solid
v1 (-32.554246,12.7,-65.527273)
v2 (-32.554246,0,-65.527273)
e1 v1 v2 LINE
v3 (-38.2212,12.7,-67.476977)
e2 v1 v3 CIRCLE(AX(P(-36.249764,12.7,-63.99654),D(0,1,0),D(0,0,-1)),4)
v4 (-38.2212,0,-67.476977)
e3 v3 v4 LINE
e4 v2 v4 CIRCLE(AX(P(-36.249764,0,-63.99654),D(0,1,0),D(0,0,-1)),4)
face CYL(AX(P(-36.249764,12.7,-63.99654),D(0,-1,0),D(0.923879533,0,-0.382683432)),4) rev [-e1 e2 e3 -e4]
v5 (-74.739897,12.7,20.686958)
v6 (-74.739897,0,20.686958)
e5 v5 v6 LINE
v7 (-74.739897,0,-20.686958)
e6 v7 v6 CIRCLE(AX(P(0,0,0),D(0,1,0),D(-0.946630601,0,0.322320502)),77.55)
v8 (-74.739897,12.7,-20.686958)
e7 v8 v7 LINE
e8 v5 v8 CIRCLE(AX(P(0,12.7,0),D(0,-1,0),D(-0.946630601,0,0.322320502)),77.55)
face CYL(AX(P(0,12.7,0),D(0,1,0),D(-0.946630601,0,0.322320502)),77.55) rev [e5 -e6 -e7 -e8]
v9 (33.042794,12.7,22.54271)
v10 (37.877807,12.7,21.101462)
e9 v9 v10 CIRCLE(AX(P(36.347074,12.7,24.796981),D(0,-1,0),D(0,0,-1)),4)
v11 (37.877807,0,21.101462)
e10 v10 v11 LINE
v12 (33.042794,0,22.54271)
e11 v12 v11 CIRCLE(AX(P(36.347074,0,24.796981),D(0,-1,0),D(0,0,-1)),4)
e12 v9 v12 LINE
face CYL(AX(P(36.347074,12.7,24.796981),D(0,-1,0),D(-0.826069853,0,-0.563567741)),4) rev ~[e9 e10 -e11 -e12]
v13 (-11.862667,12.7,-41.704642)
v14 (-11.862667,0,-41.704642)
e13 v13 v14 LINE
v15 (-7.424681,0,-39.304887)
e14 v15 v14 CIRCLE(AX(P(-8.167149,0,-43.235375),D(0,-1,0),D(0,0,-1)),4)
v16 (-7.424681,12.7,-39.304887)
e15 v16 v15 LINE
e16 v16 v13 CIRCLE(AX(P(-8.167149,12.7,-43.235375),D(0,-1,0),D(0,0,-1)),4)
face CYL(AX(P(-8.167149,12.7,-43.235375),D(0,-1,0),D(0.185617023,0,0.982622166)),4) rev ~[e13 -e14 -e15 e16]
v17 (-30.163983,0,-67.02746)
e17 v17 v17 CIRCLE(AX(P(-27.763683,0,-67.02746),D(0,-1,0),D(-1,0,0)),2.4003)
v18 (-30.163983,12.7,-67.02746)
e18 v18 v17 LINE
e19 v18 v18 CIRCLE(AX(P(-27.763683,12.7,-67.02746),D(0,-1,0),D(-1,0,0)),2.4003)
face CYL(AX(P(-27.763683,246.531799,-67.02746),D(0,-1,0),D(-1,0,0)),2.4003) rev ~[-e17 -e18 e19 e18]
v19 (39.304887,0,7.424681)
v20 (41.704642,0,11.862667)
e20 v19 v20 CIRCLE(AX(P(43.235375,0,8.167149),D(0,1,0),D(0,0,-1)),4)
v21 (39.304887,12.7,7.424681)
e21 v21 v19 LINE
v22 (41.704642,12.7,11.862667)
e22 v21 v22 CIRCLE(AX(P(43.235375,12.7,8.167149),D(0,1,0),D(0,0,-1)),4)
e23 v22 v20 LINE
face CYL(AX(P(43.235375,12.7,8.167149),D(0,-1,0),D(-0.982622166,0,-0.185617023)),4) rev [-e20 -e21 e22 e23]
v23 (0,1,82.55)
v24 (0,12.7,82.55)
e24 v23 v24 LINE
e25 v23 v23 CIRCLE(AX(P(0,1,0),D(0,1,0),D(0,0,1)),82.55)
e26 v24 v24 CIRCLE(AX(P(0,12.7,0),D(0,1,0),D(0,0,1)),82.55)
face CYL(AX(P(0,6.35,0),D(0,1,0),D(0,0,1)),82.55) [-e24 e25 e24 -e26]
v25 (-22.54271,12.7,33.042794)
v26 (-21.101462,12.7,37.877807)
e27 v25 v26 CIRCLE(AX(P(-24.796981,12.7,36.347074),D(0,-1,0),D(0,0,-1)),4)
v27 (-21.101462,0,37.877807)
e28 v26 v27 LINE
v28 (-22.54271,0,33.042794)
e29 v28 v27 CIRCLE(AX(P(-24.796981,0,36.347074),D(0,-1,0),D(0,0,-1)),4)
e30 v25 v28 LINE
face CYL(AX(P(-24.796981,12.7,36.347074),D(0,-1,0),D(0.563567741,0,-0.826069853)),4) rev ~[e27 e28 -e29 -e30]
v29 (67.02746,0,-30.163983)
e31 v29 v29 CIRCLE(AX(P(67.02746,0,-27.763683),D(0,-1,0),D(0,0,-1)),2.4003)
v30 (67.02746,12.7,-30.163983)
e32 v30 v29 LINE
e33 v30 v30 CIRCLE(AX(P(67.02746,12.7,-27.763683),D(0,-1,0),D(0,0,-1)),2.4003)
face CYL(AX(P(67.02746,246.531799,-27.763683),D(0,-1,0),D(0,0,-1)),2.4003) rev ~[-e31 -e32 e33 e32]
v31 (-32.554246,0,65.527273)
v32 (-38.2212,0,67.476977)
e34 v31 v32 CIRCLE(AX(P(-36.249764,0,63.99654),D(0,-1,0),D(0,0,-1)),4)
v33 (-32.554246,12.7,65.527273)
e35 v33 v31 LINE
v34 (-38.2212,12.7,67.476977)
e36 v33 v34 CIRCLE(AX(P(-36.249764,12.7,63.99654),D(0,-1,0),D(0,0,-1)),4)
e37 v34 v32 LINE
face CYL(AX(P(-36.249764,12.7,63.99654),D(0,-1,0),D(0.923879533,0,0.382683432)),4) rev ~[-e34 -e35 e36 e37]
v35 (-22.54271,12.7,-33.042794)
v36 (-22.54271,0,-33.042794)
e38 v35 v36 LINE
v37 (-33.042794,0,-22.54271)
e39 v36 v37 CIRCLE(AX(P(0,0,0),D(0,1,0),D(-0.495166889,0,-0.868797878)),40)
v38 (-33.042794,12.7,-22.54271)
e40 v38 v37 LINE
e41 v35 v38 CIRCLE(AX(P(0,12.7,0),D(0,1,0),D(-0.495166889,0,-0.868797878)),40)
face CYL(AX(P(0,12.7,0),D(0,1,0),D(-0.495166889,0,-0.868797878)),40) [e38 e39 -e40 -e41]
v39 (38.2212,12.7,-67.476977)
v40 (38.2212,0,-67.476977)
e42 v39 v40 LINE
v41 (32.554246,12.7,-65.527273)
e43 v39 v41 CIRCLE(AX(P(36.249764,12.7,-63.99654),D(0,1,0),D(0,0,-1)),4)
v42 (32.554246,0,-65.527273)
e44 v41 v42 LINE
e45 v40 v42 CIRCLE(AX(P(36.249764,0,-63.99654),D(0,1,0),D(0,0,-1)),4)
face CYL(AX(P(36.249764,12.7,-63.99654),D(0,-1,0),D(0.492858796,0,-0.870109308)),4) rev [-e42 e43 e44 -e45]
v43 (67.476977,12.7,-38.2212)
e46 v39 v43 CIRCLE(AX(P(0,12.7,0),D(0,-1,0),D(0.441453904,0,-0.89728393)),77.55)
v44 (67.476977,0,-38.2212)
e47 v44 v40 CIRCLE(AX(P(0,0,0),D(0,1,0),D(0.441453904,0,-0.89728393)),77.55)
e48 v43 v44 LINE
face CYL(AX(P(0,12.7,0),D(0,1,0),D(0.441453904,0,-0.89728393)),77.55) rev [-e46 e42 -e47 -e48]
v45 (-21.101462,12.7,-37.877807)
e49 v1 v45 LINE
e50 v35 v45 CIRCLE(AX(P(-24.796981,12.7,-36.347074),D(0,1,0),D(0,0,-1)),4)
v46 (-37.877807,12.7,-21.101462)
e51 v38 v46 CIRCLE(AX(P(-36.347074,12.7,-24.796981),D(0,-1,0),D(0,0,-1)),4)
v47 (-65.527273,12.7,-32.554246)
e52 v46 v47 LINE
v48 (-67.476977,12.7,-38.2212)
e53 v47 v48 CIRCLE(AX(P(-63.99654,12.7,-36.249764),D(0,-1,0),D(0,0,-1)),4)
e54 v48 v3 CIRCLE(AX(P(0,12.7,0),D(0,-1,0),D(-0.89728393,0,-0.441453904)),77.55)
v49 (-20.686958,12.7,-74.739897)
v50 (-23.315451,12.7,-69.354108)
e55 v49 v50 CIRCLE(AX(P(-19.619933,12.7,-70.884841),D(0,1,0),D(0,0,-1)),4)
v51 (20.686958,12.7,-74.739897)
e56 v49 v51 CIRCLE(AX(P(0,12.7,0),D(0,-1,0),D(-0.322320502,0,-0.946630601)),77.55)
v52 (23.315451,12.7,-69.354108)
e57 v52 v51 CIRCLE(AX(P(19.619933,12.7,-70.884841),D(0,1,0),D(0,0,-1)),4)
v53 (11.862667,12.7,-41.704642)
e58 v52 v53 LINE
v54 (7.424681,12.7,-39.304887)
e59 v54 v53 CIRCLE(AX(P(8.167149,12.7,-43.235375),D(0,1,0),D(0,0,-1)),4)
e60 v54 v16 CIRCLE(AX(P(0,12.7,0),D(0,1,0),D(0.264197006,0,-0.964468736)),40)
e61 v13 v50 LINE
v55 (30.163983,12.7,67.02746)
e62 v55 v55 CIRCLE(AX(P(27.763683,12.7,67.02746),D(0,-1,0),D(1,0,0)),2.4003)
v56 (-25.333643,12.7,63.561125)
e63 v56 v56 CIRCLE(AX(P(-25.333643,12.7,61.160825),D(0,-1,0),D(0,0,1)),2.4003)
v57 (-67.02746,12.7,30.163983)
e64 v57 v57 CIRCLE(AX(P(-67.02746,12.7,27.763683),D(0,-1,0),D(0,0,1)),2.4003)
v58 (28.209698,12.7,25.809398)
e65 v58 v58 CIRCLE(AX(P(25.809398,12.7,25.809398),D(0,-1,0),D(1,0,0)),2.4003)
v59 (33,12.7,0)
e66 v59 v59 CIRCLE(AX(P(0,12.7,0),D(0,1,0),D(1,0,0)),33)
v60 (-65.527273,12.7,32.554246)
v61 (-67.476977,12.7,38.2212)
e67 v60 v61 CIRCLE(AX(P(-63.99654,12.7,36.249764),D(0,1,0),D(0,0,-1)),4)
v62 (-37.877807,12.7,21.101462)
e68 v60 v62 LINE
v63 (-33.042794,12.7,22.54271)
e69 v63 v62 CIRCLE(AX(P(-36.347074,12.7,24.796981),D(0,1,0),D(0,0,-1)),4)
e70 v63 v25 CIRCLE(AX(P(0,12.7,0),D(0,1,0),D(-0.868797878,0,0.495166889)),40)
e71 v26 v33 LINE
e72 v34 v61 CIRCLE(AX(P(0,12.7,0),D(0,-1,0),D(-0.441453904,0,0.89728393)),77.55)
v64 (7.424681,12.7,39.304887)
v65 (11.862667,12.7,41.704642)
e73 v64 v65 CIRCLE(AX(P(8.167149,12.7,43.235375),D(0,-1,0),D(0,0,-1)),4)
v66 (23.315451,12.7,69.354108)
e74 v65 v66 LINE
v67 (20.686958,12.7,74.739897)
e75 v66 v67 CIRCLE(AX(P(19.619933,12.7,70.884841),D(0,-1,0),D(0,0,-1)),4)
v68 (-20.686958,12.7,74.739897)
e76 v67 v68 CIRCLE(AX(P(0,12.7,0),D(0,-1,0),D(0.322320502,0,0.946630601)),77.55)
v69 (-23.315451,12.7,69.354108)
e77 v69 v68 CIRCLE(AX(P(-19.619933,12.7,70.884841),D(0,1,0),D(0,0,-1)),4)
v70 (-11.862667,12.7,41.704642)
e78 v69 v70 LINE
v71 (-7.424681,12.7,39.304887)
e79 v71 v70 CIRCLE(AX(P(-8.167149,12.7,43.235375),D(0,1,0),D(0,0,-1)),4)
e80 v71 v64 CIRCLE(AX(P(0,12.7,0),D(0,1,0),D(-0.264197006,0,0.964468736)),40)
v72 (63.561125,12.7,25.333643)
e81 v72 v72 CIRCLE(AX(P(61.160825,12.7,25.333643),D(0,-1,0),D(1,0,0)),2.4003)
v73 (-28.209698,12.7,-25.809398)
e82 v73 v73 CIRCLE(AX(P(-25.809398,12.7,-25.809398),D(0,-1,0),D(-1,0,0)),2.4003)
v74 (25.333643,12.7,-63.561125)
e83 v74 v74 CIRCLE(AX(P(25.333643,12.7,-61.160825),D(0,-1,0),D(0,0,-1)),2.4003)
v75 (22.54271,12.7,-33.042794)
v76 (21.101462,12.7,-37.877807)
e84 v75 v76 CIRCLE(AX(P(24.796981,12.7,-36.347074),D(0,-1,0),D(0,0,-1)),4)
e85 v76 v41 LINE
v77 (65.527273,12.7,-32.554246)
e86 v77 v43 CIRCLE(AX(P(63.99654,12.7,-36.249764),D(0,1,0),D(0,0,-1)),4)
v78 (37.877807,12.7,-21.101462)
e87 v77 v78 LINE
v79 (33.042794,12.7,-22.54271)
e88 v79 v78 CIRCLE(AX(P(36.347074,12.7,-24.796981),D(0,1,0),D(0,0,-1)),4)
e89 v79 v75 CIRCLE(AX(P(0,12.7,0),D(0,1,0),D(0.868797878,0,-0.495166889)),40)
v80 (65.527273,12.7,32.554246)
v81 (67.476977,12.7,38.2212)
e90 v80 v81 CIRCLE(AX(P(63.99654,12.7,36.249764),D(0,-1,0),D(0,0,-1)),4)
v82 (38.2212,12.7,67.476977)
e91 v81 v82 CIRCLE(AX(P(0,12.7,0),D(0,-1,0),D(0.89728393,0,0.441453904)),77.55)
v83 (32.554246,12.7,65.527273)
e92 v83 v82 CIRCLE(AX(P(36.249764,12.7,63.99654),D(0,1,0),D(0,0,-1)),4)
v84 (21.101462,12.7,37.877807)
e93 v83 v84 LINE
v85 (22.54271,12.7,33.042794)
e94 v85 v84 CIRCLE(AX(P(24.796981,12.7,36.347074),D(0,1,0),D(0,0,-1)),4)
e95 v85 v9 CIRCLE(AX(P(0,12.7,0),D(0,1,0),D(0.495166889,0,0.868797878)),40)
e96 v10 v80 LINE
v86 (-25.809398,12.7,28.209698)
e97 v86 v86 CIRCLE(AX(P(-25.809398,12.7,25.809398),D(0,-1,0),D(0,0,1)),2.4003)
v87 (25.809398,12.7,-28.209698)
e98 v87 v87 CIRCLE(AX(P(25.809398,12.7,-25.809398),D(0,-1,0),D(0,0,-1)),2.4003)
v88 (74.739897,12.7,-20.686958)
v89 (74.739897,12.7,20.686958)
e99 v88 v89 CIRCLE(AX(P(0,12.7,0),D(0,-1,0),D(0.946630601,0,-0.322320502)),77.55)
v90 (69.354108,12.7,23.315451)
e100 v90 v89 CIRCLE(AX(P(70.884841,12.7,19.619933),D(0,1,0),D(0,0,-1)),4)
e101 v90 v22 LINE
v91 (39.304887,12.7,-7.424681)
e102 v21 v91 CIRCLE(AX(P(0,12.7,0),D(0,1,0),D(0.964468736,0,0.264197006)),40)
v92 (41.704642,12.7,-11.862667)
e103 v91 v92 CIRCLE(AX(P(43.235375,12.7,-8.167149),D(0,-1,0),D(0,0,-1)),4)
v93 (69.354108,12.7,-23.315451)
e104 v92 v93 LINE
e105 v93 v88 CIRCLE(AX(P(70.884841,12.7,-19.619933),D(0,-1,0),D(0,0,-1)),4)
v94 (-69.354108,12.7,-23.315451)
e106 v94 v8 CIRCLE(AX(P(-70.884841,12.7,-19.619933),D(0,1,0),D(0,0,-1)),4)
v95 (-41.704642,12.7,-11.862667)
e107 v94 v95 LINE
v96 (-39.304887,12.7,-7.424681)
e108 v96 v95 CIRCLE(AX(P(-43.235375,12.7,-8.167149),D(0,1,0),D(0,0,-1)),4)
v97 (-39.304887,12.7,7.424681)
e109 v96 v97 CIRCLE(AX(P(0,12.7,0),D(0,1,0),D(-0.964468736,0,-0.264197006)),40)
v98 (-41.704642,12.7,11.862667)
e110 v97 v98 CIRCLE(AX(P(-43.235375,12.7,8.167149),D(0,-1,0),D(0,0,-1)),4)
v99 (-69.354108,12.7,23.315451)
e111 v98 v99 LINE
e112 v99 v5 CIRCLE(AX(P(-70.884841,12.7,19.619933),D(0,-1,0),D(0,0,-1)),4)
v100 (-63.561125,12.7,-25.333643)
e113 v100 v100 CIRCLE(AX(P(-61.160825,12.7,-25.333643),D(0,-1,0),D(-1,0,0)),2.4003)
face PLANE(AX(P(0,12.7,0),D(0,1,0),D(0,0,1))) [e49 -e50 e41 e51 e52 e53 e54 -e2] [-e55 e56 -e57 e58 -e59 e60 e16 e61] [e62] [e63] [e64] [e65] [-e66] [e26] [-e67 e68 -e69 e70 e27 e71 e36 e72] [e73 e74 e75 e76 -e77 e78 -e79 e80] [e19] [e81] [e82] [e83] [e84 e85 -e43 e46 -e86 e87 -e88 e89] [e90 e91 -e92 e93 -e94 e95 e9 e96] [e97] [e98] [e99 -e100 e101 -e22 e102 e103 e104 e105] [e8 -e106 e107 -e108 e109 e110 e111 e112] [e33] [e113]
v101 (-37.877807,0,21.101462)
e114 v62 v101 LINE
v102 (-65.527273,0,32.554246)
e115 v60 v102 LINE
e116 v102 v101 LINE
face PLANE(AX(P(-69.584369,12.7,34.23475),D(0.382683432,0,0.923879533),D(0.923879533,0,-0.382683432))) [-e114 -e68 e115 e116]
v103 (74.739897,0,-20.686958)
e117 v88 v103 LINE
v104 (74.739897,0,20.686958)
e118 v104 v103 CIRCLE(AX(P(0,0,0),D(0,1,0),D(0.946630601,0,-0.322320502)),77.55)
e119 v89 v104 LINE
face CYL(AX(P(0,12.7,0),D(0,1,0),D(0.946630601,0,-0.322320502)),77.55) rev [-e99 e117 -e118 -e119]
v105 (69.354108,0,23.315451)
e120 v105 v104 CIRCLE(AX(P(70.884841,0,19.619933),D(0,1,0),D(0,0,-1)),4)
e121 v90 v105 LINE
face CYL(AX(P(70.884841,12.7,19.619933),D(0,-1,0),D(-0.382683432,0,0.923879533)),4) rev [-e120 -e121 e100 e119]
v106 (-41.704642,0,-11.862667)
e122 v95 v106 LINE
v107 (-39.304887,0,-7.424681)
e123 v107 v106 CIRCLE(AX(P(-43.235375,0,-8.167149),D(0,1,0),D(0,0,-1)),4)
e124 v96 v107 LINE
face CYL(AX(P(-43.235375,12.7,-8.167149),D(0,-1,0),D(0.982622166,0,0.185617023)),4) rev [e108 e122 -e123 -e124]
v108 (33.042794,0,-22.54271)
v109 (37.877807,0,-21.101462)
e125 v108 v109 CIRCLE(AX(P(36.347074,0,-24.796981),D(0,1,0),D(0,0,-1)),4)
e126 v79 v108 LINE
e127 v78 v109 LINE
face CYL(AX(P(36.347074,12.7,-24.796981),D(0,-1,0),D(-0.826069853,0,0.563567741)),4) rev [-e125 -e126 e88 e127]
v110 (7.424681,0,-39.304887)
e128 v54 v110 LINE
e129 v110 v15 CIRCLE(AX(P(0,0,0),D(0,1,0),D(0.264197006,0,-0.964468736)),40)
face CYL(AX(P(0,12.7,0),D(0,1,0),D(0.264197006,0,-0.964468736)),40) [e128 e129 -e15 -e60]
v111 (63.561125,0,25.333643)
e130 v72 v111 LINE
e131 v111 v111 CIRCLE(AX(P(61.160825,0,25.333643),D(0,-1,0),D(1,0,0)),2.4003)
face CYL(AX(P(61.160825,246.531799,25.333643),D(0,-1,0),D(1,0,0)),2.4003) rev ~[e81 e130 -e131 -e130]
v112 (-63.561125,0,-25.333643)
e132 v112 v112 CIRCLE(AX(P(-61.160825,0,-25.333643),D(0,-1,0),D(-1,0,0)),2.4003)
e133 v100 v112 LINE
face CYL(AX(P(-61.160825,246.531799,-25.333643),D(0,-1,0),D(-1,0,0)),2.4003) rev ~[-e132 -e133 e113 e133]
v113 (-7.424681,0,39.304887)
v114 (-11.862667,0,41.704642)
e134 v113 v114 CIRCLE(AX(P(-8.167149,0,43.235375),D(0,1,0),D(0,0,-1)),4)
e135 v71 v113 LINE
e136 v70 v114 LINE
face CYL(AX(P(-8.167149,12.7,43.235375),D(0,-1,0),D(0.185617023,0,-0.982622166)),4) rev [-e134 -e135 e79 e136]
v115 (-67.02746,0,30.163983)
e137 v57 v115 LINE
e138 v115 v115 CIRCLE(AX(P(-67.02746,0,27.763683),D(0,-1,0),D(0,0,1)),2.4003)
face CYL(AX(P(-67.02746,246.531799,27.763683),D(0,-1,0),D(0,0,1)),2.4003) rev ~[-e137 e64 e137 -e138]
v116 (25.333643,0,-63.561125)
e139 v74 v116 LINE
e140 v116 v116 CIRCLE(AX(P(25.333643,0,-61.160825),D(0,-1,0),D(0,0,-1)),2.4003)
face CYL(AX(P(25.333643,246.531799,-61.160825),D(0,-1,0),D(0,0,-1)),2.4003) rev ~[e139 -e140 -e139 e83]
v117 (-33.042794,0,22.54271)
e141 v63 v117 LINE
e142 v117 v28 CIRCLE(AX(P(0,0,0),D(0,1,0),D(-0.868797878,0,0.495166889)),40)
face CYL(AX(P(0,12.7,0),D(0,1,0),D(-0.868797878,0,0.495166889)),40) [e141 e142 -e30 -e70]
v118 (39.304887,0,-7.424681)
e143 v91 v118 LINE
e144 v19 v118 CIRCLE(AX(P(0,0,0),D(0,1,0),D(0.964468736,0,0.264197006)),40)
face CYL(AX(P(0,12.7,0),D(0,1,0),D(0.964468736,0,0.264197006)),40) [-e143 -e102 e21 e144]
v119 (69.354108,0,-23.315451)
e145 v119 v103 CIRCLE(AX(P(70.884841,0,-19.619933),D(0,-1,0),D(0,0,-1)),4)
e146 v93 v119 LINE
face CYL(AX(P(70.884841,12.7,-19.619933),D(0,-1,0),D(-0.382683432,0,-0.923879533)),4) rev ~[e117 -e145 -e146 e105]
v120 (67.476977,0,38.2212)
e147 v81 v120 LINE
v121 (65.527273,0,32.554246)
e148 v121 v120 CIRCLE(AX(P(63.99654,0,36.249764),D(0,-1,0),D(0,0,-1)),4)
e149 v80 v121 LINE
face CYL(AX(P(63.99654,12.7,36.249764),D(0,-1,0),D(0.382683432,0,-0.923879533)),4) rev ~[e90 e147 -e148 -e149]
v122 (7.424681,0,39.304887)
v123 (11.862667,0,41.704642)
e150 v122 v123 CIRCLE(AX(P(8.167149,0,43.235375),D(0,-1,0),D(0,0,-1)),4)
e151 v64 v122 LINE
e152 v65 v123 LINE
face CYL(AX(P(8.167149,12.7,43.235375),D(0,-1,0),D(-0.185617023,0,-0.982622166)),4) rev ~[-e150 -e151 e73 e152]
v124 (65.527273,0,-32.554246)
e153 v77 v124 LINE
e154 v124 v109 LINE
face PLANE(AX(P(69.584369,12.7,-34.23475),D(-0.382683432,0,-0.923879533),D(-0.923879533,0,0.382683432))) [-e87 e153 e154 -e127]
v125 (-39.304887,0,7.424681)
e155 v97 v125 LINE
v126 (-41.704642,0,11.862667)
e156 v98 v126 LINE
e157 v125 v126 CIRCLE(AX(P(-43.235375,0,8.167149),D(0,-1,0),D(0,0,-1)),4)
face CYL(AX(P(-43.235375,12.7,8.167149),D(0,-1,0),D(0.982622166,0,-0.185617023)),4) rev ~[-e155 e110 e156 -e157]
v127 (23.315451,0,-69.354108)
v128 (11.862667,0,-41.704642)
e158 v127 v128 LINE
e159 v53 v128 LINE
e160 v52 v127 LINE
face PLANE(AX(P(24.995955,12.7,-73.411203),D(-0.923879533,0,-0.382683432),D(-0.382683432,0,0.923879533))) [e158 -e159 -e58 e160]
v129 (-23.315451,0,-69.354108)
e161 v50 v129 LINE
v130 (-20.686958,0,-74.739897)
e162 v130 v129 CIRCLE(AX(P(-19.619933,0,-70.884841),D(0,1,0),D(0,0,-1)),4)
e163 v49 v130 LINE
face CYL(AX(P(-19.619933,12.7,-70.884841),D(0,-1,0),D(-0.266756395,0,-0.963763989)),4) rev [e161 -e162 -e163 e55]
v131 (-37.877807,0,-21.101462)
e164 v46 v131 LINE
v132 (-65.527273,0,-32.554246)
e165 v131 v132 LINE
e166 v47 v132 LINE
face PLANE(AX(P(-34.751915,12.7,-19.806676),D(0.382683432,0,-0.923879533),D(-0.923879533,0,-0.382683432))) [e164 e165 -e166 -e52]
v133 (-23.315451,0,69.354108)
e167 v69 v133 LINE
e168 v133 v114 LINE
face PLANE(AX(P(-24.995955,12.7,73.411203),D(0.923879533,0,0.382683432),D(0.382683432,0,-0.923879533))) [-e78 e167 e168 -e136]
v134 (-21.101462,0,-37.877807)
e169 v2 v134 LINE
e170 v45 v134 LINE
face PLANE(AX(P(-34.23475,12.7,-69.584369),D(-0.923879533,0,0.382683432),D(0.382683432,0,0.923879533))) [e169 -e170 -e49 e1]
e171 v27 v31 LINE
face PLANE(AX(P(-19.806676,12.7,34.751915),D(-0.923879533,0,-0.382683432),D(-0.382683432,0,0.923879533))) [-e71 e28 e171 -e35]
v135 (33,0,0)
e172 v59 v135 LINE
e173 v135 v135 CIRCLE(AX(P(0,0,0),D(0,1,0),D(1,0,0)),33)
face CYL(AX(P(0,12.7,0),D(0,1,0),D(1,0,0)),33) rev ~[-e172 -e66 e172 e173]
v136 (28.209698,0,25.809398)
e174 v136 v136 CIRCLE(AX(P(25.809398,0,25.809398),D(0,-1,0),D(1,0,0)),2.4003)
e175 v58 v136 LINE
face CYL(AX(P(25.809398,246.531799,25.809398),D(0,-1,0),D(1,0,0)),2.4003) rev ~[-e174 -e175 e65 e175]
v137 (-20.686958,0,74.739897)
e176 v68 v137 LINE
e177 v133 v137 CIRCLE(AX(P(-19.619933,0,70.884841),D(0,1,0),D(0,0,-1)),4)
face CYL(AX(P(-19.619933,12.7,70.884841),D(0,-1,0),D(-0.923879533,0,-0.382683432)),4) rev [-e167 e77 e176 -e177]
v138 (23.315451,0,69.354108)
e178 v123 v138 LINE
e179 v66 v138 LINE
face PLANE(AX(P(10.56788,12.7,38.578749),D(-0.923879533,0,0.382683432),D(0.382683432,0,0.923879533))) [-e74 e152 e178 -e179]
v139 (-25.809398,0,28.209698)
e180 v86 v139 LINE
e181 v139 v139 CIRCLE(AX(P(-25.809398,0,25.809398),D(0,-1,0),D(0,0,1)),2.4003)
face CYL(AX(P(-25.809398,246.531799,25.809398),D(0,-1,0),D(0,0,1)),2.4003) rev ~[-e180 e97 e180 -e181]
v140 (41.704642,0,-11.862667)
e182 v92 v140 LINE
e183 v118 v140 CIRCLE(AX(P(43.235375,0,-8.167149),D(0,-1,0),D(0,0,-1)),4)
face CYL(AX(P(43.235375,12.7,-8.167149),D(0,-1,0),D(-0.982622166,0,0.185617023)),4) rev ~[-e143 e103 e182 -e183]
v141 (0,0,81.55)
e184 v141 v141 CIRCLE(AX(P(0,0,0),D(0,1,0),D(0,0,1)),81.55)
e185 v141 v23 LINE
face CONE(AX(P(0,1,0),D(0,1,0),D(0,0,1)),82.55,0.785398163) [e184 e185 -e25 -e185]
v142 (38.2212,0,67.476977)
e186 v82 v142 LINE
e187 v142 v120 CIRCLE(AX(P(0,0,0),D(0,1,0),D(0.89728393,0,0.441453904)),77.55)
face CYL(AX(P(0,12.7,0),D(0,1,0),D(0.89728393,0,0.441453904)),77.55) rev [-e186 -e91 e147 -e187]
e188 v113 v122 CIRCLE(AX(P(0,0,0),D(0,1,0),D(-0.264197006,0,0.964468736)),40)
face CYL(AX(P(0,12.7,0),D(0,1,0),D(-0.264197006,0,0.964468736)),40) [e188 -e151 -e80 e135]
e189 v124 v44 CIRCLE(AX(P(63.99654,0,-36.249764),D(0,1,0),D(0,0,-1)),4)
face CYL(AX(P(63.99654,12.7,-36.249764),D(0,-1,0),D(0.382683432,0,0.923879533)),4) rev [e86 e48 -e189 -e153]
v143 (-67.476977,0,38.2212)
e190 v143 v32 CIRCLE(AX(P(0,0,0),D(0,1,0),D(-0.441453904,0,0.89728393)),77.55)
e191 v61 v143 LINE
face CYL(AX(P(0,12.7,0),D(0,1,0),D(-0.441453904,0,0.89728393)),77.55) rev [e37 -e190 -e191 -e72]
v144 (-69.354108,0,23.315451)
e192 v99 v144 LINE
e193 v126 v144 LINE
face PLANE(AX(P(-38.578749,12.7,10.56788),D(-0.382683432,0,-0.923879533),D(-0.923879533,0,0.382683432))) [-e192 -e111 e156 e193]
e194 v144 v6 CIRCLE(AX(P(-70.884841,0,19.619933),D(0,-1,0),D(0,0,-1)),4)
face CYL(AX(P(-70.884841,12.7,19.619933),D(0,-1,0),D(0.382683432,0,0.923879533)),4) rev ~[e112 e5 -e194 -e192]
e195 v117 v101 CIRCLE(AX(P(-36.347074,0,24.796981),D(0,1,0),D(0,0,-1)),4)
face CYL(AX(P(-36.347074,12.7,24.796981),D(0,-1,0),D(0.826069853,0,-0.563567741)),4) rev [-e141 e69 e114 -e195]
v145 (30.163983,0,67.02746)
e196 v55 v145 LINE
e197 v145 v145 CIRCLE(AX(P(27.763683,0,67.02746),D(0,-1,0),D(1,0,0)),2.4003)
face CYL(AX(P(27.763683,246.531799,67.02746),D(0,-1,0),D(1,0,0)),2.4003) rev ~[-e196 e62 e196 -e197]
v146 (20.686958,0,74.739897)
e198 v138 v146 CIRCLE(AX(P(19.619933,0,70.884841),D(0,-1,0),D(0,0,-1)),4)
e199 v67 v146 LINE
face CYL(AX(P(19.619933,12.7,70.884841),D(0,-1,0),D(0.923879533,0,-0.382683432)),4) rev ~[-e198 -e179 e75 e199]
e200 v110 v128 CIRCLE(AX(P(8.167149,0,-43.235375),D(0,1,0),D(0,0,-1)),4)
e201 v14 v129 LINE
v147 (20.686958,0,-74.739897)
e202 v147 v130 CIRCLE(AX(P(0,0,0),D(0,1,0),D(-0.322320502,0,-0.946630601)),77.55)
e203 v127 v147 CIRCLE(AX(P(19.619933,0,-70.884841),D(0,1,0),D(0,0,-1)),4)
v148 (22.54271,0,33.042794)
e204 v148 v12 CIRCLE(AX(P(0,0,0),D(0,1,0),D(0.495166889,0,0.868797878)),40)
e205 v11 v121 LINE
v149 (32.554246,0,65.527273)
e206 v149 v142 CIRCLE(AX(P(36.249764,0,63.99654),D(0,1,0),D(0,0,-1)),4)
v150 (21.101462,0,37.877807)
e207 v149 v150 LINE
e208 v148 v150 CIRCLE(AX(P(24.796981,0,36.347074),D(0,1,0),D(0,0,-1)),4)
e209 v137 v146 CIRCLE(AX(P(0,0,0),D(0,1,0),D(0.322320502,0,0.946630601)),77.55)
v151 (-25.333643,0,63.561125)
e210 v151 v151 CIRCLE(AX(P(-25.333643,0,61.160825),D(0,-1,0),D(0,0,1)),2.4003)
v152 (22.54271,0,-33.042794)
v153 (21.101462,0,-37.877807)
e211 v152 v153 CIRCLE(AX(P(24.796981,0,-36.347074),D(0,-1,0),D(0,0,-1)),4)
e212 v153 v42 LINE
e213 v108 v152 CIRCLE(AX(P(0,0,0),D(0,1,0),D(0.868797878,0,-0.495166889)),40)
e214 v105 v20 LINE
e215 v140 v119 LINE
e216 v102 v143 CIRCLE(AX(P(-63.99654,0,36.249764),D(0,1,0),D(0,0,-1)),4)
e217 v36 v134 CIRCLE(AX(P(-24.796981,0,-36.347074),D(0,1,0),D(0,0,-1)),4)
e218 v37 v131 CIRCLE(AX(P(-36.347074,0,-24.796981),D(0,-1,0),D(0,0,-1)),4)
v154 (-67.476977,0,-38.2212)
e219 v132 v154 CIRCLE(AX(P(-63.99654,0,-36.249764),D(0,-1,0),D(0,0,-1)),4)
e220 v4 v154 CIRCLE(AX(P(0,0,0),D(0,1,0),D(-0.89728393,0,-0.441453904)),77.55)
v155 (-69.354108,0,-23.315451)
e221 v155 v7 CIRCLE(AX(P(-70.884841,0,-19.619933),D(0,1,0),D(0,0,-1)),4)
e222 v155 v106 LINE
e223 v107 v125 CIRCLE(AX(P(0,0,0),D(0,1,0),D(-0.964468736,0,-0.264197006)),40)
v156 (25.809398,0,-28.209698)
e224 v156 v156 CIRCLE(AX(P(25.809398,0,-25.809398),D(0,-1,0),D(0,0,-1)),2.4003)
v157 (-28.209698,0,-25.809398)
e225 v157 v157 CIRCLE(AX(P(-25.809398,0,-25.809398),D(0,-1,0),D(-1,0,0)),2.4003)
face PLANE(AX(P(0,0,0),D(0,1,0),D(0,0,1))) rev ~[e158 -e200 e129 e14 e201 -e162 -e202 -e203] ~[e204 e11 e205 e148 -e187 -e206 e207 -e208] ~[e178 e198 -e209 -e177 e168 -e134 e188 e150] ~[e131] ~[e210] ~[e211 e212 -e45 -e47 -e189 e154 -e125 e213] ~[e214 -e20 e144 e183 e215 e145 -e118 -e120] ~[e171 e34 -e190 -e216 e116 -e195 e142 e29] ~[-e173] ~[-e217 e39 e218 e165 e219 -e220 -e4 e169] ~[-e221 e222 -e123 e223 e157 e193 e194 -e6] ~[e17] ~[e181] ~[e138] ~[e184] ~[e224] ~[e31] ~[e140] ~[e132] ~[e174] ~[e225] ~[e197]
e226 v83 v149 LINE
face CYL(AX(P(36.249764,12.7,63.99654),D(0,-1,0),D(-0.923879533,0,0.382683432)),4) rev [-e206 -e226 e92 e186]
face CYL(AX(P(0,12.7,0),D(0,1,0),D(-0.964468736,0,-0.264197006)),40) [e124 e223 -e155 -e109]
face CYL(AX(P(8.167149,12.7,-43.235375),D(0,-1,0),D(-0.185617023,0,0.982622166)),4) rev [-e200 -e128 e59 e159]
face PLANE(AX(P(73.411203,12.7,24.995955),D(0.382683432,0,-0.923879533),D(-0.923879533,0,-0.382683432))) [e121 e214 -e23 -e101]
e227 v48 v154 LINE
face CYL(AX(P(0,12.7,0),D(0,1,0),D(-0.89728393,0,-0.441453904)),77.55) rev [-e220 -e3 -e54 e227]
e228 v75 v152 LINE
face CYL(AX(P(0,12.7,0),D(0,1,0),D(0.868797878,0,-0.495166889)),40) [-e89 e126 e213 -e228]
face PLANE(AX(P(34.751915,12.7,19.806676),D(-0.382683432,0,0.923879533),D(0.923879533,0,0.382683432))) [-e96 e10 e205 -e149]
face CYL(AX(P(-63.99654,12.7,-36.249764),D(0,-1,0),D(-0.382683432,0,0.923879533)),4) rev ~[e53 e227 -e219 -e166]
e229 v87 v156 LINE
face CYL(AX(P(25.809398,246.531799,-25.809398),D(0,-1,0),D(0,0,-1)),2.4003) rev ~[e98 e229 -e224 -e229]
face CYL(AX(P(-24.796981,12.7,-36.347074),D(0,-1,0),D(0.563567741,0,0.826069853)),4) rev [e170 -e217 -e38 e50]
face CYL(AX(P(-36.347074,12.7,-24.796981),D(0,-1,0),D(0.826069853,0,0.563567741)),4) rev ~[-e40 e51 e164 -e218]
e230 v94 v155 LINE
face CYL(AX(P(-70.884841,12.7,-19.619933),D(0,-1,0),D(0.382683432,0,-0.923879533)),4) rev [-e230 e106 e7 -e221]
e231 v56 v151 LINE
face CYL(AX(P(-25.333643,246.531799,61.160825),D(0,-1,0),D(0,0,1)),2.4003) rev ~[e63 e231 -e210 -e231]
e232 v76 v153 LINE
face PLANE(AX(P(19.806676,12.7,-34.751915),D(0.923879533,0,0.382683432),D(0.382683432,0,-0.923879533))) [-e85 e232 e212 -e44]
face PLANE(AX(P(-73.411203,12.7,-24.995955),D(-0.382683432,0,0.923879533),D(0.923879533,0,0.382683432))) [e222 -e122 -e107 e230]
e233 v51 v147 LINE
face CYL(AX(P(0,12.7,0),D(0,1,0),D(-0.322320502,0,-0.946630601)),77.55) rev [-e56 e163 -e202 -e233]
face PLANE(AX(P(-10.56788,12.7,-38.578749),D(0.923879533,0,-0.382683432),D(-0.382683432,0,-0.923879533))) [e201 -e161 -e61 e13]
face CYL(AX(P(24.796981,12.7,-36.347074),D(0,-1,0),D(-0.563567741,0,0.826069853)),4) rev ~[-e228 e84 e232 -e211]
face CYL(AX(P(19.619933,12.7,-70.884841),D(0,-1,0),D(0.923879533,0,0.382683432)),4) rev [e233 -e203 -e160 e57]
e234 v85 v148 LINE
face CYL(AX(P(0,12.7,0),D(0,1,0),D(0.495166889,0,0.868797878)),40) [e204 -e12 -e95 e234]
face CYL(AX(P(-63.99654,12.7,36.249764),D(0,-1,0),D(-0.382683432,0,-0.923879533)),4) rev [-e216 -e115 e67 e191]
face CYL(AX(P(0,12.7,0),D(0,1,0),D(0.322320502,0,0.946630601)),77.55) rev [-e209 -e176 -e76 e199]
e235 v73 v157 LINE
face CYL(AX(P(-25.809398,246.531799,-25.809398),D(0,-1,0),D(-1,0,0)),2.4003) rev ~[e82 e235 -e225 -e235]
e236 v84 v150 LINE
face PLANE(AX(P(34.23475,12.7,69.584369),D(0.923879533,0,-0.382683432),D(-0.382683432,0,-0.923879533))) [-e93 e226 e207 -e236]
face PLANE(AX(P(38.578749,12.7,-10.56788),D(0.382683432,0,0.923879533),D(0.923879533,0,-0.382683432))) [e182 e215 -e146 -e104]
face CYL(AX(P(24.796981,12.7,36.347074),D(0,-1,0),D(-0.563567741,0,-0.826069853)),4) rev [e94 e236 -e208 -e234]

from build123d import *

# Parameters (mm, degrees)
SKETCH2_W                   = 82.55
SKETCH2_H                   = 12.7
F_12_0_189_DIAMETER_HOLE1_D = 4.8006
CIRPATTERN3_COUNT           = 4
CUT_EXTRUDE1_DEPTH          = 13.7
FILLET1_R                   = 4
CIRPATTERN4_COUNT           = 8
FILLET1_OF_CIRPATTERN4_R    = 4
CHAMFER2_SIZE               = 1
SKETCH9_R                   = 33
CUT_EXTRUDE2_DEPTH          = 13.7


with BuildPart() as part:
    # Sketch2 → Revolve1 (revolve)
    with BuildSketch(Plane(origin=(0, 0, 0), x_dir=(0, 0, -1), z_dir=(1, 0, 0))):
        with Locations((-41.275, 6.35)):
            Rectangle(SKETCH2_W, SKETCH2_H)
    revolve(axis=Axis((0, -0.635, 0), (0, 1, 0)))

    # #12 (0.189) Diameter Hole1 (through all)
    with Locations(Plane(origin=(0, 12.7, 0), x_dir=(1, 0, 0), z_dir=(0, 1, 0))):
        with Locations((-27.763683018, 67.027460084), (-61.160825052, 25.333643223), (-25.809397513, 25.809397513)):
            f_12_0_189_diameter_hole1 = Hole(F_12_0_189_DIAMETER_HOLE1_D / 2)

    # CirPattern3: #12 (0.189) Diameter Hole1 ×4 about axis
    cirpattern3_axis = Axis((0, 0, 0), (0, 1, 0))
    for i in range(1, CIRPATTERN3_COUNT):
        add(f_12_0_189_diameter_hole1.rotate(cirpattern3_axis, i * 360 / CIRPATTERN3_COUNT), mode=Mode.SUBTRACT)

    # Sketch8 → Cut-Extrude1 (cut, through all)
    with BuildSketch(Plane(origin=(0, 12.7, 0), x_dir=(1, 0, 0), z_dir=(0, 1, 0))):
        with BuildLine():
            Line((-10.567880231, 38.578749428), (-24.995954941, 73.411203073))
            ThreePointArc((-24.995954941, 73.411203073), (0, 77.55), (24.995954941, 73.411203073))
            Line((24.995954941, 73.411203073), (10.567880231, 38.578749428))
            ThreePointArc((10.567880231, 38.578749428), (0, 40), (-10.567880231, 38.578749428))
        make_face()
    cut_extrude1 = extrude(amount=-CUT_EXTRUDE1_DEPTH, mode=Mode.SUBTRACT)

    # Fillet1
    fillet1_edges = [part.edges().sort_by_distance(p)[0] for p in [
        (10.567880231, 6.35, -38.578749428),
        (-10.567880231, 6.35, -38.578749428),
        (-24.995954941, 6.35, -73.411203073),
        (24.995954941, 6.35, -73.411203073),
    ]]
    fillet(fillet1_edges, radius=FILLET1_R)

    # CirPattern4: Cut-Extrude1 ×8 about axis
    cirpattern4_axis = Axis((0, 0, 0), (0, 1, 0))
    for i in range(1, CIRPATTERN4_COUNT):
        add(cut_extrude1.rotate(cirpattern4_axis, i * 360 / CIRPATTERN4_COUNT), mode=Mode.SUBTRACT)

    # Fillet1 of CirPattern4
    fillet1_of_cirpattern4_edges = [part.edges().sort_by_distance(p)[0] for p in [
        (-19.806675556, 6.35, -34.751915104),
        (-34.751915104, 6.35, -19.806675556),
        (-69.584368749, 6.35, -34.234750266),
        (-34.234750266, 6.35, -69.584368749),
        (-38.578749428, 6.35, -10.567880231),
        (-38.578749428, 6.35, 10.567880231),
        (-73.411203073, 6.35, 24.995954941),
        (-73.411203073, 6.35, -24.995954941),
        (-34.751915104, 6.35, 19.806675556),
        (-19.806675556, 6.35, 34.751915104),
        (-34.234750266, 6.35, 69.584368749),
        (-69.584368749, 6.35, 34.234750266),
        (-10.567880231, 6.35, 38.578749428),
        (10.567880231, 6.35, 38.578749428),
        (24.995954941, 6.35, 73.411203073),
        (-24.995954941, 6.35, 73.411203073),
        (19.806675556, 6.35, 34.751915104),
        (34.751915104, 6.35, 19.806675556),
        (69.584368749, 6.35, 34.234750266),
        (34.234750266, 6.35, 69.584368749),
        (38.578749428, 6.35, 10.567880231),
        (38.578749428, 6.35, -10.567880231),
        (73.411203073, 6.35, -24.995954941),
        (73.411203073, 6.35, 24.995954941),
        (34.751915104, 6.35, -19.806675556),
        (19.806675556, 6.35, -34.751915104),
        (34.234750266, 6.35, -69.584368749),
        (69.584368749, 6.35, -34.234750266),
    ]]
    fillet(fillet1_of_cirpattern4_edges, radius=FILLET1_OF_CIRPATTERN4_R)

    # Chamfer2
    chamfer2_edges = [part.edges().sort_by_distance(p)[0] for p in [
        (0, 0, -82.55),
    ]]
    chamfer(chamfer2_edges, length=CHAMFER2_SIZE)

    # Sketch9 → Cut-Extrude2 (cut, through all)
    with BuildSketch(Plane(origin=(0, 12.7, 0), x_dir=(1, 0, 0), z_dir=(0, 1, 0))):
        Circle(SKETCH9_R)
    extrude(amount=-CUT_EXTRUDE2_DEPTH, mode=Mode.SUBTRACT)


solid = part.part
